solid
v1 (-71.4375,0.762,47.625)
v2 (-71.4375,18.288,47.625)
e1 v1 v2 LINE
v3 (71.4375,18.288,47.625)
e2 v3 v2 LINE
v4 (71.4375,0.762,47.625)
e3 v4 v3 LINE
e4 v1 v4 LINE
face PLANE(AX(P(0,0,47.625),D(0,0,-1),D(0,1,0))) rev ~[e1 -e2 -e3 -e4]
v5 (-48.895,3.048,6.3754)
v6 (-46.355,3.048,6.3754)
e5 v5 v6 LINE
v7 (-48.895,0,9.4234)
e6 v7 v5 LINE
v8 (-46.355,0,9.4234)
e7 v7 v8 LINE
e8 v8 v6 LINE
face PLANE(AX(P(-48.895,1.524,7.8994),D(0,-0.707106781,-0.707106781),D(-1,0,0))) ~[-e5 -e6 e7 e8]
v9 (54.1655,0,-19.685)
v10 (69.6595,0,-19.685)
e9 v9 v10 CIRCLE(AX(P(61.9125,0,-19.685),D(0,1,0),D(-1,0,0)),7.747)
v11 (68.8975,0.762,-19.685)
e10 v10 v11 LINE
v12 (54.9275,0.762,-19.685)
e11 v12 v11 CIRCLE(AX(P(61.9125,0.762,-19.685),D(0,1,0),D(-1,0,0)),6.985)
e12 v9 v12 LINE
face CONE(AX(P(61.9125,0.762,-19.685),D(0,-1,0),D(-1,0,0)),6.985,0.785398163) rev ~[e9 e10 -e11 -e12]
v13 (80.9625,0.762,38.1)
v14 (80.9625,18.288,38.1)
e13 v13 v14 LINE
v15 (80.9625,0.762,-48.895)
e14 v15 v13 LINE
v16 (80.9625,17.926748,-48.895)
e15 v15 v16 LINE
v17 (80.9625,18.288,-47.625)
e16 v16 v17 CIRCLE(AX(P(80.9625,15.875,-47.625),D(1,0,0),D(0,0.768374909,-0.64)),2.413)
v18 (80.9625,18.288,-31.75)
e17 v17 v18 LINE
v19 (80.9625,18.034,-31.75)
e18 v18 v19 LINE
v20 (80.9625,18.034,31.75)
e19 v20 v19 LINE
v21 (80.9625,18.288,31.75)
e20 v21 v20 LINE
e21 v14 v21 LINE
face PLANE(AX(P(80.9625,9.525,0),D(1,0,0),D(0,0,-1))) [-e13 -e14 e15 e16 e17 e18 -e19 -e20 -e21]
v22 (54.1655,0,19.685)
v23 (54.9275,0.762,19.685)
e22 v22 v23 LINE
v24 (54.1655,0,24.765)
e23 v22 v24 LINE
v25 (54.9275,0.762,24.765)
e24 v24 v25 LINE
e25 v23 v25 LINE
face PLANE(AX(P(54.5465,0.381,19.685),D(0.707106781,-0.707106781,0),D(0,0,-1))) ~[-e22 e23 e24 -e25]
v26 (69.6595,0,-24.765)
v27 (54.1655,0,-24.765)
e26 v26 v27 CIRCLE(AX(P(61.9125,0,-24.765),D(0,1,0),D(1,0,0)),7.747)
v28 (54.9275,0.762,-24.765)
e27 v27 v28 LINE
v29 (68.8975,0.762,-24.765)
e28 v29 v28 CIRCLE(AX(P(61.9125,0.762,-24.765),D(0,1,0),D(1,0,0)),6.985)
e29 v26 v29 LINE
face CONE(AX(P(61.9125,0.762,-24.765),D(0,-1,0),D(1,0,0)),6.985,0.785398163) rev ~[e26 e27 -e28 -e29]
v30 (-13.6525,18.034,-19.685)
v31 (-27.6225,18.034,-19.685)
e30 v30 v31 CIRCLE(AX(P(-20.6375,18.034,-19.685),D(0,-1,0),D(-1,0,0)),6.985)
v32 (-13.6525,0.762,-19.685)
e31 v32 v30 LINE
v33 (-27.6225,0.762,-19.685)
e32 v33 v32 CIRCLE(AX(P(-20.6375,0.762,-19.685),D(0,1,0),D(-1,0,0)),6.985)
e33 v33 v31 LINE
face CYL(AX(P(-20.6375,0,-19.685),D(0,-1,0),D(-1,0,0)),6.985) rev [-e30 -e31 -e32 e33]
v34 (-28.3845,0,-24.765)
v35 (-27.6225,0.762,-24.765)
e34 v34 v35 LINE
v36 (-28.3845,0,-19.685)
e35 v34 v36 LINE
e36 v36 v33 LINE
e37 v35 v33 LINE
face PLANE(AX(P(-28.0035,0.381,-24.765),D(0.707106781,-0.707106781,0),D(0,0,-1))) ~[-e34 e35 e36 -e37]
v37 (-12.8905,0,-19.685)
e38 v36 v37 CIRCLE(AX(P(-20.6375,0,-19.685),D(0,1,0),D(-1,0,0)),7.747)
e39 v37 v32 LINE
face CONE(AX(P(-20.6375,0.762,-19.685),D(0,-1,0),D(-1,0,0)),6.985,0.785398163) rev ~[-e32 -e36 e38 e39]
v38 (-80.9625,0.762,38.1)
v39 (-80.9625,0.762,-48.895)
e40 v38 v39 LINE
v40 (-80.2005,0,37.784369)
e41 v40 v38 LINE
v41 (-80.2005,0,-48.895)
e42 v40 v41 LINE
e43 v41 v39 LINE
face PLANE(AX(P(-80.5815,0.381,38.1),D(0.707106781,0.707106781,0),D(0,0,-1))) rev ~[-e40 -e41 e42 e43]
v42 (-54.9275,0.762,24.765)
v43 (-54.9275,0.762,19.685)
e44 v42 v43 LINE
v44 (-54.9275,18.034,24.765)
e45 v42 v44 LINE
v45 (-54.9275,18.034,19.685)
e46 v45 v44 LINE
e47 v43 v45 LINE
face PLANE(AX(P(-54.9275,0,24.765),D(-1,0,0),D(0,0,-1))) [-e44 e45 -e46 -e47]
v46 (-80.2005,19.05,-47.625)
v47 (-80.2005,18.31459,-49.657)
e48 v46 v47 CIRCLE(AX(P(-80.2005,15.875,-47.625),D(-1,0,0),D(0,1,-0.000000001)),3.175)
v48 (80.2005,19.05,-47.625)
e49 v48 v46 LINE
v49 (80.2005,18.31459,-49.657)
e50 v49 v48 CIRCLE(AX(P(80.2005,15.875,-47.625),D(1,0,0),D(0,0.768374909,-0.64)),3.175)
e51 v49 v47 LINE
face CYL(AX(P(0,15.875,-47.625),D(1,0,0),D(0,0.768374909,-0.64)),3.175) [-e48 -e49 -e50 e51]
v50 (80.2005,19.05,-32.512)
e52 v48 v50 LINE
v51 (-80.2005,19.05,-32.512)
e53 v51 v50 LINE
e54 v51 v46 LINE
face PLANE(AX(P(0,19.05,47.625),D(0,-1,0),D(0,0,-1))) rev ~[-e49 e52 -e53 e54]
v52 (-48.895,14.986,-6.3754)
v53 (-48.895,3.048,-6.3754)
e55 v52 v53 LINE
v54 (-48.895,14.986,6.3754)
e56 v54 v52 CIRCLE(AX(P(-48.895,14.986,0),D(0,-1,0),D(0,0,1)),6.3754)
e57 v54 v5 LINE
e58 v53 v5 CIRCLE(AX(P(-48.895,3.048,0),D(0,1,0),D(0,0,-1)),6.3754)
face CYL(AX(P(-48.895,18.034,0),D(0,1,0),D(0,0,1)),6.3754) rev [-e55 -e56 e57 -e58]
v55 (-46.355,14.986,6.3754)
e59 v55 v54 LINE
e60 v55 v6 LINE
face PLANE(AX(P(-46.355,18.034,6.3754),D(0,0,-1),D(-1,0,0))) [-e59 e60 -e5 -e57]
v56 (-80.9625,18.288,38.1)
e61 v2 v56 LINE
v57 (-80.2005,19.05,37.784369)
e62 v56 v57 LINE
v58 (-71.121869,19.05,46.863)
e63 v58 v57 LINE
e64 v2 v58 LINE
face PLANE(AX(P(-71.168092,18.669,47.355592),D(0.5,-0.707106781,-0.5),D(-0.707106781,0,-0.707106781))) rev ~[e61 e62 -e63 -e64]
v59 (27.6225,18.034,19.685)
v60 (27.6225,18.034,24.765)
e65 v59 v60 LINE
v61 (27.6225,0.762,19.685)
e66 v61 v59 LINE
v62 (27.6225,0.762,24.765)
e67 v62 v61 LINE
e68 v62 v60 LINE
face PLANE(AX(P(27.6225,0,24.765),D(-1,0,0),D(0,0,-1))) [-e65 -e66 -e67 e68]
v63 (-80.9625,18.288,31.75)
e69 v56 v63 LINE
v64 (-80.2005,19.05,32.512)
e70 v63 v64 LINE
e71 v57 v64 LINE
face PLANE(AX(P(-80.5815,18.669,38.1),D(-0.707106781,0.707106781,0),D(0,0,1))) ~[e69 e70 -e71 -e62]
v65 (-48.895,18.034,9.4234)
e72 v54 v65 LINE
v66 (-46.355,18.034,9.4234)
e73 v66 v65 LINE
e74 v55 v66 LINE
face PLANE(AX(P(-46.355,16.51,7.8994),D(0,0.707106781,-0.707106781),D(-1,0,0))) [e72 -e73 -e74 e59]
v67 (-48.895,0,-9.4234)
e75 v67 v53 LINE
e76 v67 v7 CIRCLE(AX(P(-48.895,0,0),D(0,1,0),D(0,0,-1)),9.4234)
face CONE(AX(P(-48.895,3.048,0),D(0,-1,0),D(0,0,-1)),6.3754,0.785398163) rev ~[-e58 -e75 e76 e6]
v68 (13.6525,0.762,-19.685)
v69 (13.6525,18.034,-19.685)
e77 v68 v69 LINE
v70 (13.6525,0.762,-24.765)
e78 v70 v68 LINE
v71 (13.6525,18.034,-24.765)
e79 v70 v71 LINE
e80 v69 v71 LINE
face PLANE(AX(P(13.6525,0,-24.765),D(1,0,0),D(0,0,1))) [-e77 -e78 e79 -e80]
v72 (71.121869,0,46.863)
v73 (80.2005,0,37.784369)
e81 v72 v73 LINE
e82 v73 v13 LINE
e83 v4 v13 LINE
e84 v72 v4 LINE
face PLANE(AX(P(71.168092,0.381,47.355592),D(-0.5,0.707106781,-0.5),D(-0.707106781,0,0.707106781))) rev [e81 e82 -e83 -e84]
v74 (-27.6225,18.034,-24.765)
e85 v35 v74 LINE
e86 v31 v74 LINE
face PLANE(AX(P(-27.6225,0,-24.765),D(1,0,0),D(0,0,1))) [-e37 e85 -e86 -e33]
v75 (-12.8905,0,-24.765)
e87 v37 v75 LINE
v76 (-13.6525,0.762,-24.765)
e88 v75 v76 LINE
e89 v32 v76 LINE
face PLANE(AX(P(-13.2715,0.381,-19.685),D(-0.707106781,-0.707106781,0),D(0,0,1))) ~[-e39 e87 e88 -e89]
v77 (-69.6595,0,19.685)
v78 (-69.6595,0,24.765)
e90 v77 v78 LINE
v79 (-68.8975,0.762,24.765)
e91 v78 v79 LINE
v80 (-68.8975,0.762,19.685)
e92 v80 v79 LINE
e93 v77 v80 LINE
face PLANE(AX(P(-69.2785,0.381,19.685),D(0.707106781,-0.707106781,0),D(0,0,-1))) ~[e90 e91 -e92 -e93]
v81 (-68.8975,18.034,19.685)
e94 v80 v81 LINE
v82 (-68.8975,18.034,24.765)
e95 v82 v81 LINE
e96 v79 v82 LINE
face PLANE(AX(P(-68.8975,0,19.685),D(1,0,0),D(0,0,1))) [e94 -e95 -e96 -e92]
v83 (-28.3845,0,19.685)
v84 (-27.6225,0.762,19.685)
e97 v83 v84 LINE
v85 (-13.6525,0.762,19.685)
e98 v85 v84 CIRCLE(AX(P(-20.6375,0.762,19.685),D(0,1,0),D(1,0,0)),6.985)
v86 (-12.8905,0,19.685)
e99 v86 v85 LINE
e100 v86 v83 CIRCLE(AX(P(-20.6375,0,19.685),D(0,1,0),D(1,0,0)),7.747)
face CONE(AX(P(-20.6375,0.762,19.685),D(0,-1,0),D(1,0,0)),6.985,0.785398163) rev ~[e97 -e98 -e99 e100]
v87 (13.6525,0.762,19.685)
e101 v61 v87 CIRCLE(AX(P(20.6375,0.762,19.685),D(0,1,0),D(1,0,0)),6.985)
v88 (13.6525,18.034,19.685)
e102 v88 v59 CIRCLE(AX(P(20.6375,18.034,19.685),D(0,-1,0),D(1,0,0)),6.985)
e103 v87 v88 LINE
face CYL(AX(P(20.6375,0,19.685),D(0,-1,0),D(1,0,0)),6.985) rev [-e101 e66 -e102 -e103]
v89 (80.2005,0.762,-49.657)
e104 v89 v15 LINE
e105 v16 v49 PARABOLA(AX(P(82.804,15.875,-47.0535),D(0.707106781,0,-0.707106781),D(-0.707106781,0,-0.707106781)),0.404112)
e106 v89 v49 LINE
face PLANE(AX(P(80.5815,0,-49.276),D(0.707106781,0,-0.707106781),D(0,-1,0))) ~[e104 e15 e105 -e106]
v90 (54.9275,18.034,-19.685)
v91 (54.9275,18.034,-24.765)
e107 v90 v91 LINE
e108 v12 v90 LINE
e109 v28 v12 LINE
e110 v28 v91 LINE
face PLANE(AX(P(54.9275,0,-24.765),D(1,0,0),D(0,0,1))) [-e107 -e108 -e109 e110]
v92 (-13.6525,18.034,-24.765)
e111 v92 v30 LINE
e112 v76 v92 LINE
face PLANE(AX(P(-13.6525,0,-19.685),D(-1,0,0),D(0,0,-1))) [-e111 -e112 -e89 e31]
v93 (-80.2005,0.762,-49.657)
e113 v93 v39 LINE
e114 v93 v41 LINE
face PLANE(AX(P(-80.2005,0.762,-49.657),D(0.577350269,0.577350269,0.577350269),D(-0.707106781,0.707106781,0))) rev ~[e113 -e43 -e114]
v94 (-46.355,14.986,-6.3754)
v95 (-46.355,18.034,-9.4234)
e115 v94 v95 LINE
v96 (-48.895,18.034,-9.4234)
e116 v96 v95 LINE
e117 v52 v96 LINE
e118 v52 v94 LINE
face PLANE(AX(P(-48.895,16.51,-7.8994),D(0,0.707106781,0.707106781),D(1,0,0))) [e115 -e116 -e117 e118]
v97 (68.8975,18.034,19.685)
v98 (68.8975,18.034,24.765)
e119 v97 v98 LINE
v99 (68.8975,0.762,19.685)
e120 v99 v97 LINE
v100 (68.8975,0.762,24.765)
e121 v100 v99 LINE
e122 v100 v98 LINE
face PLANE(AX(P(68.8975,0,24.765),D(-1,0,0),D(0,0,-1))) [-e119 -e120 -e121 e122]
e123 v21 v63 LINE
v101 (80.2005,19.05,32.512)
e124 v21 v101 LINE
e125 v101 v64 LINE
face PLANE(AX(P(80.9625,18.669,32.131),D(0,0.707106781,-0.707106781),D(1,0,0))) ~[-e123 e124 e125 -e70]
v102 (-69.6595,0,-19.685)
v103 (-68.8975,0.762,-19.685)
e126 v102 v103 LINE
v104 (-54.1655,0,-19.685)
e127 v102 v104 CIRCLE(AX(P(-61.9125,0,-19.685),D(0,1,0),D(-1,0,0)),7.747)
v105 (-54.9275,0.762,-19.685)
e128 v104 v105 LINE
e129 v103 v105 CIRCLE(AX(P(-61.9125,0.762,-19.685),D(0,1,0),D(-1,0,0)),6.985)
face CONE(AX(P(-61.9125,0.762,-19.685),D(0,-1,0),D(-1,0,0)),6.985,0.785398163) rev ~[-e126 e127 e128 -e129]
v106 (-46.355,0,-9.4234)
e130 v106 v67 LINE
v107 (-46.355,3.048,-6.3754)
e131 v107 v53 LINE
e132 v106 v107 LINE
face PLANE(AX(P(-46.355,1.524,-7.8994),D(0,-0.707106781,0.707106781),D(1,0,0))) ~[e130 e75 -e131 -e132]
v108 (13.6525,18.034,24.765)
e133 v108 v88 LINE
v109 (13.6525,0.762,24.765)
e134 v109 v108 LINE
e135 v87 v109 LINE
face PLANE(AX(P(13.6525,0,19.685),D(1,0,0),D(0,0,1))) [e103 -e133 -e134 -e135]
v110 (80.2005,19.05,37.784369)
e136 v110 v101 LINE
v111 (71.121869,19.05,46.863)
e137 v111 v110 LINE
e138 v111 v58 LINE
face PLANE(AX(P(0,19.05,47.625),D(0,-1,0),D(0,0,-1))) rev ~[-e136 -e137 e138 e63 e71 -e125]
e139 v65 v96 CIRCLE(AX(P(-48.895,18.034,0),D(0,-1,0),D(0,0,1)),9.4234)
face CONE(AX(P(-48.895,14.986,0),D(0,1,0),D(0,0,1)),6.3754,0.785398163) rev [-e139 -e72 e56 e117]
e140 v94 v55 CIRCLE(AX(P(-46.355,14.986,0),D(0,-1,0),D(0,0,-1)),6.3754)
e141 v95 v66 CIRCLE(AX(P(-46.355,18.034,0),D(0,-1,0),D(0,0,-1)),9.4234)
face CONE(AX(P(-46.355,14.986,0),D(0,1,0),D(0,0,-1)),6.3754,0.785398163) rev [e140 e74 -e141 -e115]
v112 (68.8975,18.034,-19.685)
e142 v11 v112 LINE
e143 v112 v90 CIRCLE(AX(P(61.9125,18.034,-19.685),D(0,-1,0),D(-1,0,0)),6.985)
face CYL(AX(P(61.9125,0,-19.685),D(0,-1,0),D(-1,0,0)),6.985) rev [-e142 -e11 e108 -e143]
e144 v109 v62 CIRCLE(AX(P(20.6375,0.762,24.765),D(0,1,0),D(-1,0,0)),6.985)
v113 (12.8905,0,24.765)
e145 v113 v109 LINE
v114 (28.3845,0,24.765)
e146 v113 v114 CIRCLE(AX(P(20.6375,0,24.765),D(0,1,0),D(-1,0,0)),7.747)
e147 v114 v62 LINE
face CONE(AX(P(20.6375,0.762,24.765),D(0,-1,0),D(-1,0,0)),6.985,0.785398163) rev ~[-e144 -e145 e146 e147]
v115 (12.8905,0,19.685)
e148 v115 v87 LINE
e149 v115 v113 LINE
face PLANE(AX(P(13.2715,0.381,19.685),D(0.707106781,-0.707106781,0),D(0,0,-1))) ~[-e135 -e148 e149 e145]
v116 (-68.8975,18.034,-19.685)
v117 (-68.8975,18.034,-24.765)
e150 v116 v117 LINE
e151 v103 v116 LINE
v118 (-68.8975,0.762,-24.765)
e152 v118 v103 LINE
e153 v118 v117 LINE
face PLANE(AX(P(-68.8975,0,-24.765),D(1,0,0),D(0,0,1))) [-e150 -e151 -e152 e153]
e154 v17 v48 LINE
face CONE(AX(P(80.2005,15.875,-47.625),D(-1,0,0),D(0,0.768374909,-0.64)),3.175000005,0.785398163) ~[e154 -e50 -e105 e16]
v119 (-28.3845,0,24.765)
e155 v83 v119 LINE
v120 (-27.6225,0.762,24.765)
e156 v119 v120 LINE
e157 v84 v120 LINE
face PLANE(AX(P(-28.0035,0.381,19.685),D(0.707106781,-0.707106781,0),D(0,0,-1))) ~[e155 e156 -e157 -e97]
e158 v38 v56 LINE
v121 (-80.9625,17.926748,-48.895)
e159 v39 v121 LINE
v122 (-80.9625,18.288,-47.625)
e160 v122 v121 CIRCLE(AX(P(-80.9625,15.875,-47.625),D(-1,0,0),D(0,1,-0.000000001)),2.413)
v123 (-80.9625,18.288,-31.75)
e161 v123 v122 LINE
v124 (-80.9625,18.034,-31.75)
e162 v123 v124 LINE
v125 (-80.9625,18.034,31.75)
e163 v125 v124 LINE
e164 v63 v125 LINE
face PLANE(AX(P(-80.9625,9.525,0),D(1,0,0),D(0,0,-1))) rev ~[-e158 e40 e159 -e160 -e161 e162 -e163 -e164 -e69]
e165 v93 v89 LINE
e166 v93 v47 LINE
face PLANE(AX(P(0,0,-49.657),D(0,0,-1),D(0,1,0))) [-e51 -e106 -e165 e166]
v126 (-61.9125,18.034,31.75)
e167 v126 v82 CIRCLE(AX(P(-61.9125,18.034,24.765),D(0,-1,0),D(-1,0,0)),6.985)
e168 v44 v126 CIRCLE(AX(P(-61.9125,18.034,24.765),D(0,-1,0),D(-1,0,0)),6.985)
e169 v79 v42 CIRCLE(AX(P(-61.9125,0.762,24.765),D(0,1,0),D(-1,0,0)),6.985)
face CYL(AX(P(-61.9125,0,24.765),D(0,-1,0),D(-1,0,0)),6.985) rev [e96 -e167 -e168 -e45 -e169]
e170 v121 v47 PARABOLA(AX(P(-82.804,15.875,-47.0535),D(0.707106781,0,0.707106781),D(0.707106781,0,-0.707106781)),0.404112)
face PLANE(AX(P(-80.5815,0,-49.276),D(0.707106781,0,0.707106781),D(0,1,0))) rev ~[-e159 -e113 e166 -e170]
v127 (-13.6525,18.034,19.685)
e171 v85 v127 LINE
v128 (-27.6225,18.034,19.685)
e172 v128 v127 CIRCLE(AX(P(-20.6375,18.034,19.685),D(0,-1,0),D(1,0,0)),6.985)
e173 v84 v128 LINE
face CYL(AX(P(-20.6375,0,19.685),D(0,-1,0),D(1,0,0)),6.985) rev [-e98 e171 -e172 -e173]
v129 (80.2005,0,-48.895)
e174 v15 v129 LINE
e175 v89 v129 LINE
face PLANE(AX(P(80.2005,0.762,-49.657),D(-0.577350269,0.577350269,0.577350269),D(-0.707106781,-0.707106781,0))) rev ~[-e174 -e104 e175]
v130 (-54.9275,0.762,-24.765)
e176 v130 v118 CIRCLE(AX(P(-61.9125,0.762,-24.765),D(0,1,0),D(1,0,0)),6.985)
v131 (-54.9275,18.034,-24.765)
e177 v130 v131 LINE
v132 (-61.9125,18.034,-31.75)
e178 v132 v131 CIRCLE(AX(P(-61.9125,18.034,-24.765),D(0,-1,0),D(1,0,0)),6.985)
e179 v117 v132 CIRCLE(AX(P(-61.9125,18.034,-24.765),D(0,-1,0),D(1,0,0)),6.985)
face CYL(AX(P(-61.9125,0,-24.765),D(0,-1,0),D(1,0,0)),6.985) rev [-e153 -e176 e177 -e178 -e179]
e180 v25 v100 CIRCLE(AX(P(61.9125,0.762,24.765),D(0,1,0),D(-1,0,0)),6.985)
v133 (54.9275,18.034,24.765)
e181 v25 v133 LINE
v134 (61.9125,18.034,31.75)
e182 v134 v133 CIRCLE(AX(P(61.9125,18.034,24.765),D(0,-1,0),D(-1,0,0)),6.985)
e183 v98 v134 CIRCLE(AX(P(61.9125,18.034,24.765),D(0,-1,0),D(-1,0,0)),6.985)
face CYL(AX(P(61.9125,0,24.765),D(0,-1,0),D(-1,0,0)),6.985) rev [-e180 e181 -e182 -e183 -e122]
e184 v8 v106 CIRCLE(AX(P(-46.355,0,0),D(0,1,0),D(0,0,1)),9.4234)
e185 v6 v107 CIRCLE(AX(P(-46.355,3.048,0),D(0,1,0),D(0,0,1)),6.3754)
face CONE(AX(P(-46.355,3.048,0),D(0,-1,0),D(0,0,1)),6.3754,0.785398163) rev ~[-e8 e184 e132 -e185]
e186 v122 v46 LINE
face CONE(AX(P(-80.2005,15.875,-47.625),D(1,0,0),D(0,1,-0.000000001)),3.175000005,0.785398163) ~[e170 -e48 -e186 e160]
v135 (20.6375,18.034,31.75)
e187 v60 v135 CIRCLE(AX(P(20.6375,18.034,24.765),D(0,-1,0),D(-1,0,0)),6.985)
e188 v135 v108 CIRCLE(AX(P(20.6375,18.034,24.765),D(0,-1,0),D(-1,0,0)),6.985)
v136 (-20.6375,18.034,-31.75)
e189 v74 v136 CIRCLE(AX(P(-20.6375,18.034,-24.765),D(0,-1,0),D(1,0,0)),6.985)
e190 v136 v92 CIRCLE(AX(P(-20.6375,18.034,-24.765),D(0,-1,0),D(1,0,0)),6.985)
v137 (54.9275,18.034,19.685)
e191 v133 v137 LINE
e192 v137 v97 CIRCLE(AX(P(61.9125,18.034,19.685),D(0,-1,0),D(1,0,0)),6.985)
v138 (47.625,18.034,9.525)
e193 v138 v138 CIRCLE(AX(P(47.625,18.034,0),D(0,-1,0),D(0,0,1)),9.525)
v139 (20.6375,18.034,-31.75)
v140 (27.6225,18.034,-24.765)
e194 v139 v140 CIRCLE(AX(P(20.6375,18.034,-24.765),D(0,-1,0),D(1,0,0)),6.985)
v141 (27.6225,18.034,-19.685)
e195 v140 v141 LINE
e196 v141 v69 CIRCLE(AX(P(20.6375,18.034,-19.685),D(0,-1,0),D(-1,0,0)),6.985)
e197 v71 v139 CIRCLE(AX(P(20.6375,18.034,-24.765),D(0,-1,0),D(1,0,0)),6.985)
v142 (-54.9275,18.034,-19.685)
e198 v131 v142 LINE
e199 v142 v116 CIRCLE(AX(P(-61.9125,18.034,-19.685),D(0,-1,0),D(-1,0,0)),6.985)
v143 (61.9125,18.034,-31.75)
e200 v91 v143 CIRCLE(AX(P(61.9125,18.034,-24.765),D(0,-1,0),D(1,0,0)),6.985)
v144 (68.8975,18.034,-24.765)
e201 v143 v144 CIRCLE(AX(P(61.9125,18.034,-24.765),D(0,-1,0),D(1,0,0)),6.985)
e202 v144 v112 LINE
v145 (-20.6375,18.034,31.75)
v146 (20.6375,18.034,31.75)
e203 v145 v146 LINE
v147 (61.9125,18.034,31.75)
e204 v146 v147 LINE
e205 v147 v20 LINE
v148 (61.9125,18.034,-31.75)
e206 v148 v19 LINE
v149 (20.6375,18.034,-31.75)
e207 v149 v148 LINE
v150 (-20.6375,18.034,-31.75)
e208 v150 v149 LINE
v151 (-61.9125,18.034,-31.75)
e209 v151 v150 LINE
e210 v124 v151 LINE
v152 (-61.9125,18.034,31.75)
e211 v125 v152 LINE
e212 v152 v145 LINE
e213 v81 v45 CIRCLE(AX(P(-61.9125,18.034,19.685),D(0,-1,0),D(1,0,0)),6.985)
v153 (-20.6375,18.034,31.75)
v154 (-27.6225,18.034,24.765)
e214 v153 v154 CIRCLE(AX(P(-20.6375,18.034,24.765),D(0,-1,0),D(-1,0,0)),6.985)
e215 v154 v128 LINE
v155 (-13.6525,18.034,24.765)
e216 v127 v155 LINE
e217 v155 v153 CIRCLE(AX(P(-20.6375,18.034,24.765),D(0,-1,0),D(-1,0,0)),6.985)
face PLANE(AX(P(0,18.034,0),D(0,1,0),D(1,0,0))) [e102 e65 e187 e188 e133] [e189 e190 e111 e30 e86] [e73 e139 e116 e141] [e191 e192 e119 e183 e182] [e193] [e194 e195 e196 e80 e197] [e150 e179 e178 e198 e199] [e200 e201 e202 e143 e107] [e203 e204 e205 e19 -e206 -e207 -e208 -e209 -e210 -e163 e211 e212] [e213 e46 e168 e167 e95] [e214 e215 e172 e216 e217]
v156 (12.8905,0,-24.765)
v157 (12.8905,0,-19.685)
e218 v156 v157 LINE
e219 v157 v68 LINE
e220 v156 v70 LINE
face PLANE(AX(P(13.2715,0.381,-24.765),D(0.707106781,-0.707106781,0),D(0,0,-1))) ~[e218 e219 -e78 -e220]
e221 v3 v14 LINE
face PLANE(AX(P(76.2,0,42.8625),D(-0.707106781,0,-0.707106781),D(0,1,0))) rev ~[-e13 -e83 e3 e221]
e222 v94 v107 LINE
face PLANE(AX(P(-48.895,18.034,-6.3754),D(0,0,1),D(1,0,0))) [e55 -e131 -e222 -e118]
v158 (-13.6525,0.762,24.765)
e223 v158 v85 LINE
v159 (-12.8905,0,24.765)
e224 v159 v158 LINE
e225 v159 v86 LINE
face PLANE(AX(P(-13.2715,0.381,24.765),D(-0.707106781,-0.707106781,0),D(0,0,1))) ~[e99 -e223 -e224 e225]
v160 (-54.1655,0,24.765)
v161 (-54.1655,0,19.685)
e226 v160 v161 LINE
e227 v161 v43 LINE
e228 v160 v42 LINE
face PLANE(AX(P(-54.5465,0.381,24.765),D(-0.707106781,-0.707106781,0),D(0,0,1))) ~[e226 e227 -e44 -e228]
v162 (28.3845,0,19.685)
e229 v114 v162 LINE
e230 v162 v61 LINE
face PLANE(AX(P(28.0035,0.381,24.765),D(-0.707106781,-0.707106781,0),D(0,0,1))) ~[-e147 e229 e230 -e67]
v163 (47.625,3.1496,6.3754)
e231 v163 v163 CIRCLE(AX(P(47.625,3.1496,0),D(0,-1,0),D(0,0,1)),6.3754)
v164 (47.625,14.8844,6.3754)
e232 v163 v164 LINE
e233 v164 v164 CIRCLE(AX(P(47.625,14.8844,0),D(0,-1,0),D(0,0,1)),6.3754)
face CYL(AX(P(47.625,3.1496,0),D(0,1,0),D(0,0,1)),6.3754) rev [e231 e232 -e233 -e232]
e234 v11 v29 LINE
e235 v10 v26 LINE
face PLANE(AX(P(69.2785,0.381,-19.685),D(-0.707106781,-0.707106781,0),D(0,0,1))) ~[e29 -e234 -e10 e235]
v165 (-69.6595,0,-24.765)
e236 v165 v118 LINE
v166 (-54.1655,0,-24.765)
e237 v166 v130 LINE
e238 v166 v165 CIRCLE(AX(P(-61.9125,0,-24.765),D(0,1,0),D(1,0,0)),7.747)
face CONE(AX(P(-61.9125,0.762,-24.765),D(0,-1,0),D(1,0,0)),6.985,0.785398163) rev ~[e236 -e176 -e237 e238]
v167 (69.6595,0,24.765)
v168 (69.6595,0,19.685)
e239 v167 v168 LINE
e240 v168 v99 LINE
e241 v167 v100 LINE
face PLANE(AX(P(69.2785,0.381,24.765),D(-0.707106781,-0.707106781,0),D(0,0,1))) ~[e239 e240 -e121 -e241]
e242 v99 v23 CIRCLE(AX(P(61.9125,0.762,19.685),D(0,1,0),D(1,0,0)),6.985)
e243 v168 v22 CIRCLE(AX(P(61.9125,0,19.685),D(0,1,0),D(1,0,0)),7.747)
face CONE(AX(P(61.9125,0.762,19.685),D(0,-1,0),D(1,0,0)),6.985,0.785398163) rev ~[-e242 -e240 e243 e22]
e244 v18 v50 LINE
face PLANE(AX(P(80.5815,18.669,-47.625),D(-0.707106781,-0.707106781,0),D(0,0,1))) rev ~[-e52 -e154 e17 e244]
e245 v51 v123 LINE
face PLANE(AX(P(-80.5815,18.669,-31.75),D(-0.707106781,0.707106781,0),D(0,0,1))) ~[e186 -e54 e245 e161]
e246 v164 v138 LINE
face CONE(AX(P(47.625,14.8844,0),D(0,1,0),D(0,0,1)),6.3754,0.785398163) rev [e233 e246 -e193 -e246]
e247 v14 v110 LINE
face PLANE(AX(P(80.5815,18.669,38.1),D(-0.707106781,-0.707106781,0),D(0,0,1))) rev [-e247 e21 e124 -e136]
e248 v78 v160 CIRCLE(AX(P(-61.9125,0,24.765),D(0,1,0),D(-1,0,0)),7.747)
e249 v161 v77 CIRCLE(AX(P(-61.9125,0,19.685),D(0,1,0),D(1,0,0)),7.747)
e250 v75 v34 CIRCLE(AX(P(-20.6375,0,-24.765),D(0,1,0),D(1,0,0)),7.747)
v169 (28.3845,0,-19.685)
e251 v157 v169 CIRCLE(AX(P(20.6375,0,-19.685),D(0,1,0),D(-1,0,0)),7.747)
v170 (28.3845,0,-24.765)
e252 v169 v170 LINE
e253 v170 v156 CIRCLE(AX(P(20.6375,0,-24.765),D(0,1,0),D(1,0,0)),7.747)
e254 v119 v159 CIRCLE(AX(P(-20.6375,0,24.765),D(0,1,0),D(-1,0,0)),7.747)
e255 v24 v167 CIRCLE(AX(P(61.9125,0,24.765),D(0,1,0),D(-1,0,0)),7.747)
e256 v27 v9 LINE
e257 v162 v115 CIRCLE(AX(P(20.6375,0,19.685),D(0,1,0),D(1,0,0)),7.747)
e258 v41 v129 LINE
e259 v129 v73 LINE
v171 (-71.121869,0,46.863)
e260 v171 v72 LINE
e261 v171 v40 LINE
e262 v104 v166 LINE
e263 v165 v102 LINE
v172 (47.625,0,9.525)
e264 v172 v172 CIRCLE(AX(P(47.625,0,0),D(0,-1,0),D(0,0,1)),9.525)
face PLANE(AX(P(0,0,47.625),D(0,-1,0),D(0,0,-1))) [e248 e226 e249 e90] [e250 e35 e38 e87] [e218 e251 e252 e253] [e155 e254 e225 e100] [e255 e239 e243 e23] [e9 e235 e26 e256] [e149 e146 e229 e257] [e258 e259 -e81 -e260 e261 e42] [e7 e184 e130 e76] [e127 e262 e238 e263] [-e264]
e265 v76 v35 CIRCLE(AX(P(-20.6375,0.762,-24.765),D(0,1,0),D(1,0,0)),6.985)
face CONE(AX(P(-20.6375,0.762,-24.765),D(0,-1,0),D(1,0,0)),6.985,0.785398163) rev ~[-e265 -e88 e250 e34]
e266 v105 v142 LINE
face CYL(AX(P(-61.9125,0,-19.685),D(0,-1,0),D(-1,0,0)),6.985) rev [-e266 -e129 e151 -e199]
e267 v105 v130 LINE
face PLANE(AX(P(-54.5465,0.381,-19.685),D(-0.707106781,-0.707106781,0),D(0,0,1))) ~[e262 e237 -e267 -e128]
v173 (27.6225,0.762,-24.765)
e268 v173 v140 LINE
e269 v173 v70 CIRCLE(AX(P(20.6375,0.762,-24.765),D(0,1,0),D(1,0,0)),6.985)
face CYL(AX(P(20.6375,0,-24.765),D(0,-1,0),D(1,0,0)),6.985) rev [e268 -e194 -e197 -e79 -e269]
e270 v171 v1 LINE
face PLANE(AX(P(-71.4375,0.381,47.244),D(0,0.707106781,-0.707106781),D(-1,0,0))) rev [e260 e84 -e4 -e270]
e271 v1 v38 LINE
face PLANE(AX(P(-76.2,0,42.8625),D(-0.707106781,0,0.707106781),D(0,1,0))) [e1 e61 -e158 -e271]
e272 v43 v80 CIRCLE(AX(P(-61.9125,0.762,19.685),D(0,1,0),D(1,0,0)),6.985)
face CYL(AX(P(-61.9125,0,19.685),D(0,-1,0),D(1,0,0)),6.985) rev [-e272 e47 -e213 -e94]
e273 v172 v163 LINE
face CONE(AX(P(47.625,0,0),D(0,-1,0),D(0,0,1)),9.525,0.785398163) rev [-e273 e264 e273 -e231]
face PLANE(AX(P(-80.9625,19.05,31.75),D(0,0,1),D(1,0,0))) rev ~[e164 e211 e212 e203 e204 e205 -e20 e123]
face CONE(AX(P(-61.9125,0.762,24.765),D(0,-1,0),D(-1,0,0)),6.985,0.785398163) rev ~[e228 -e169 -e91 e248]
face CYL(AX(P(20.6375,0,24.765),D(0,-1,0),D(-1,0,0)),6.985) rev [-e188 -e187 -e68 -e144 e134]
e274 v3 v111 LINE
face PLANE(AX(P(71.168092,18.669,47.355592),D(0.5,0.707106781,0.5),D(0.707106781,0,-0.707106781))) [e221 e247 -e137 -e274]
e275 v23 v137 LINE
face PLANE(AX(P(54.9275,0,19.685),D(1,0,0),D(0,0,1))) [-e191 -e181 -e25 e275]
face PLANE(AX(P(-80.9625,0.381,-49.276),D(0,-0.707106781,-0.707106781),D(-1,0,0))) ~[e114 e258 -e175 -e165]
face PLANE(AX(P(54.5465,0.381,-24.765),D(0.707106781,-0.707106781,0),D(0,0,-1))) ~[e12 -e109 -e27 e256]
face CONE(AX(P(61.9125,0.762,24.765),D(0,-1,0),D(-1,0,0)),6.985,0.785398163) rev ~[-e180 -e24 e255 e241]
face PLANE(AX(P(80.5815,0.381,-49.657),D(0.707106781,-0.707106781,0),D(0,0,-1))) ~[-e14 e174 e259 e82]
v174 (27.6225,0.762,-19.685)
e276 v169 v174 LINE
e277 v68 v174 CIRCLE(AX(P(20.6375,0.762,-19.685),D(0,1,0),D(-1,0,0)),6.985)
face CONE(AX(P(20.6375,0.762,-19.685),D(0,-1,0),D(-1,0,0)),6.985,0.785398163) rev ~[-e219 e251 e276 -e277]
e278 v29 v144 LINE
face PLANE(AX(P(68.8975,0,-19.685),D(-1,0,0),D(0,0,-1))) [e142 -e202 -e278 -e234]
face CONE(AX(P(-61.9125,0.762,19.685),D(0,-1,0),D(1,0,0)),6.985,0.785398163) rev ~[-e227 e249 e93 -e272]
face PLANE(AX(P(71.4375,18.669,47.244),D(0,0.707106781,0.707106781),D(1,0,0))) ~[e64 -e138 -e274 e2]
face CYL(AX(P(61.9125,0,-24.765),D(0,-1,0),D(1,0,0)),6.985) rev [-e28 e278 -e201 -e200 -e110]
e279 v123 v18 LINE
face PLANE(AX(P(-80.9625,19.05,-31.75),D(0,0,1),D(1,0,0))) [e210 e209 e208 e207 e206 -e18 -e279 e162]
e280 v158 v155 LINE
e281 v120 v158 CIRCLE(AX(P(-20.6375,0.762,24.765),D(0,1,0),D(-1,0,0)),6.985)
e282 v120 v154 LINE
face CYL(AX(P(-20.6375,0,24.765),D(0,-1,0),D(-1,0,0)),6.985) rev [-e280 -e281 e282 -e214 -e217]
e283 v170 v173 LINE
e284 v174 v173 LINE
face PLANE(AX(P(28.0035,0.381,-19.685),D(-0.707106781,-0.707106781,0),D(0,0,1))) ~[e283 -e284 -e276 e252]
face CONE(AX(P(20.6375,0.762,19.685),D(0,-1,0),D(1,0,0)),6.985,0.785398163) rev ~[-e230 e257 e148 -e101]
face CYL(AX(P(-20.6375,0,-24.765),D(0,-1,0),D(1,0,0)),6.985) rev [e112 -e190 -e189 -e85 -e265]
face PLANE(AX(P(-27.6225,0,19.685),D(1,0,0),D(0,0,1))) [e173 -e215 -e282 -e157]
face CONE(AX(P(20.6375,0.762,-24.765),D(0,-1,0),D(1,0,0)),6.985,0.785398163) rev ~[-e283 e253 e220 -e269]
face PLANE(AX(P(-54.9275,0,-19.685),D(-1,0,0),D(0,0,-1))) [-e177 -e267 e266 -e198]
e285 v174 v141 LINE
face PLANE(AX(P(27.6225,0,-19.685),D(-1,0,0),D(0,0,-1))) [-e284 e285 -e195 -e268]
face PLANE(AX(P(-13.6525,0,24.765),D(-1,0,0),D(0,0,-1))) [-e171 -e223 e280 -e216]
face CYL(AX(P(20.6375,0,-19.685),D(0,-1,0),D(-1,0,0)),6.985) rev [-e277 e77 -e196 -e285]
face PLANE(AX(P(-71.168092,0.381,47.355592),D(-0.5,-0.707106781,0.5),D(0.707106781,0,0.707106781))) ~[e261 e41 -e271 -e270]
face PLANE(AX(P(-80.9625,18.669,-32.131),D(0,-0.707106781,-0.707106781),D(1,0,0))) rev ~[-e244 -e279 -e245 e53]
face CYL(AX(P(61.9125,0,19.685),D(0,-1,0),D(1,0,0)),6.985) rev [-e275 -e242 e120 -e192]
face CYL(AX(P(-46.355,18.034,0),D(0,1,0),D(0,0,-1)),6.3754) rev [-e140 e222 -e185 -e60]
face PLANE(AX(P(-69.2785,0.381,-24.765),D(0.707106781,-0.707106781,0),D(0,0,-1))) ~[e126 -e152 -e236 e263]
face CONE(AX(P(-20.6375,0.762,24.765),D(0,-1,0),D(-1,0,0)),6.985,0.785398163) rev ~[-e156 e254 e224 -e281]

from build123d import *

# Parameters (mm, degrees)
SKETCH1_W      = 95.25
SKETCH1_H      = 19.05
EXTRUDE1_DEPTH = 80.9625
CHAMFER1_SIZE  = 9.525
SKETCH6_W      = 161.925
SKETCH6_H      = 63.5
EXTRUDE2_DEPTH = 1.016
EXTRUDE5_DEPTH = 80.9625
EXTRUDE8_DEPTH = 20.05
CHAMFER8_SIZE  = 0.762
EXTRUDE9_DEPTH = 19.034
CHAMFER9_SIZE  = 3.048
CHAMFER6_SIZE  = 0.762


with BuildPart() as part:
    # Sketch1 → Extrude1 (new body, symmetric)
    with BuildSketch(Plane(origin=(0, 0, 0), x_dir=(0, 0, -1), z_dir=(1, 0, 0))):
        with Locations((0, 9.525)):
            Rectangle(SKETCH1_W, SKETCH1_H)
    extrude(amount=EXTRUDE1_DEPTH, both=True)

    # Chamfer1
    chamfer1_edges = [part.edges().sort_by_distance(p)[0] for p in [
        (80.9625, 9.525, 47.625),
        (-80.9625, 9.525, 47.625),
    ]]
    chamfer(chamfer1_edges, length=CHAMFER1_SIZE)

    # Sketch6 → Extrude2 (cut)
    with BuildSketch(Plane(origin=(0, 19.05, 0), x_dir=(1, 0, 0), z_dir=(0, 1, 0))):
        Rectangle(SKETCH6_W, SKETCH6_H)
    extrude(amount=-EXTRUDE2_DEPTH, mode=Mode.SUBTRACT)

    # Sketch10 → Extrude5 (add, symmetric)
    with BuildSketch(Plane(origin=(0, 0, 0), x_dir=(0, 0, -1), z_dir=(1, 0, 0))):
        with BuildLine():
            Line((47.117, 19.05), (47.117, 0))
            Line((47.117, 0), (49.657, 0))
            Line((49.657, 0), (49.657, 18.314590334))
            ThreePointArc((49.657, 18.314590334), (48.705491945, 18.860491945), (47.625, 19.05))
            Line((47.625, 19.05), (47.117, 19.05))
        make_face()
    extrude(amount=EXTRUDE5_DEPTH, both=True)

    # Sketch16 → Extrude8 (cut, through all)
    with BuildSketch(Plane.XZ):
        with BuildLine():
            Line((-54.9275, 24.765), (-54.9275, 19.685))
            ThreePointArc((-54.9275, 19.685), (-61.9125, 12.7), (-68.8975, 19.685))
            Line((-68.8975, 19.685), (-68.8975, 24.765))
            ThreePointArc((-68.8975, 24.765), (-61.9125, 31.75), (-54.9275, 24.765))
        make_face()
        with BuildLine():
            Line((-54.9275, -19.685), (-54.9275, -24.765))
            ThreePointArc((-54.9275, -24.765), (-61.9125, -31.75), (-68.8975, -24.765))
            Line((-68.8975, -24.765), (-68.8975, -19.685))
            ThreePointArc((-68.8975, -19.685), (-61.9125, -12.7), (-54.9275, -19.685))
        make_face()
        with BuildLine():
            Line((-13.6525, -19.685), (-13.6525, -24.765))
            ThreePointArc((-13.6525, -24.765), (-20.6375, -31.75), (-27.6225, -24.765))
            Line((-27.6225, -24.765), (-27.6225, -19.685))
            ThreePointArc((-27.6225, -19.685), (-20.6375, -12.7), (-13.6525, -19.685))
        make_face()
        with BuildLine():
            Line((27.6225, -19.685), (27.6225, -24.765))
            ThreePointArc((27.6225, -24.765), (20.6375, -31.75), (13.6525, -24.765))
            Line((13.6525, -24.765), (13.6525, -19.685))
            ThreePointArc((13.6525, -19.685), (20.6375, -12.7), (27.6225, -19.685))
        make_face()
        with BuildLine():
            Line((68.8975, -19.685), (68.8975, -24.765))
            ThreePointArc((68.8975, -24.765), (61.9125, -31.75), (54.9275, -24.765))
            Line((54.9275, -24.765), (54.9275, -19.685))
            ThreePointArc((54.9275, -19.685), (61.9125, -12.7), (68.8975, -19.685))
        make_face()
        with BuildLine():
            Line((68.8975, 24.765), (68.8975, 19.685))
            ThreePointArc((68.8975, 19.685), (61.9125, 12.7), (54.9275, 19.685))
            Line((54.9275, 19.685), (54.9275, 24.765))
            ThreePointArc((54.9275, 24.765), (61.9125, 31.75), (68.8975, 24.765))
        make_face()
        with BuildLine():
            Line((27.6225, 24.765), (27.6225, 19.685))
            ThreePointArc((27.6225, 19.685), (20.6375, 12.7), (13.6525, 19.685))
            Line((13.6525, 19.685), (13.6525, 24.765))
            ThreePointArc((13.6525, 24.765), (20.6375, 31.75), (27.6225, 24.765))
        make_face()
        with BuildLine():
            Line((-13.6525, 24.765), (-13.6525, 19.685))
            ThreePointArc((-13.6525, 19.685), (-20.6375, 12.7), (-27.6225, 19.685))
            Line((-27.6225, 19.685), (-27.6225, 24.765))
            ThreePointArc((-27.6225, 24.765), (-20.6375, 31.75), (-13.6525, 24.765))
        make_face()
    extrude(amount=-EXTRUDE8_DEPTH, mode=Mode.SUBTRACT)

    # Chamfer8
    chamfer8_edges = [part.edges().sort_by_distance(p)[0] for p in [
        (-20.6375, 0, -12.7),
        (-27.6225, 0, -22.225),
        (-20.6375, 0, -31.75),
        (-13.6525, 0, -22.225),
        (20.6375, 0, -12.7),
        (13.6525, 0, -22.225),
        (20.6375, 0, -31.75),
        (27.6225, 0, -22.225),
        (61.9125, 0, -12.7),
        (54.9275, 0, -22.225),
        (61.9125, 0, -31.75),
        (68.8975, 0, -22.225),
        (61.9125, 0, 31.75),
        (54.9275, 0, 22.225),
        (61.9125, 0, 12.7),
        (68.8975, 0, 22.225),
        (20.6375, 0, 31.75),
        (13.6525, 0, 22.225),
        (20.6375, 0, 12.7),
        (27.6225, 0, 22.225),
        (-20.6375, 0, 31.75),
        (-27.6225, 0, 22.225),
        (-20.6375, 0, 12.7),
        (-13.6525, 0, 22.225),
        (-61.9125, 0, 31.75),
        (-68.8975, 0, 22.225),
        (-61.9125, 0, 12.7),
        (-54.9275, 0, 22.225),
        (-61.9125, 0, -12.7),
        (-68.8975, 0, -22.225),
        (-61.9125, 0, -31.75),
        (-54.9275, 0, -22.225),
    ]]
    chamfer(chamfer8_edges, length=CHAMFER8_SIZE)

    # Sketch17 → 1/2 (0.5) Diameter Hole2 (revolve, cut)
    with BuildSketch(Plane(origin=(47.625, 18.034, 0), x_dir=(0, 0, 1), z_dir=(1, 0, 0))):
        Polygon((0, 0), (0, 18.034), (9.525, 18.034), (6.3754, 14.8844), (6.3754, 3.1496), (9.525, 0), align=None)
    revolve(axis=Axis((47.625, 24.384, 0), (0, -1, 0)), mode=Mode.SUBTRACT)

    # Sketch20 → Extrude9 (cut, through all)
    with BuildSketch(Plane(origin=(0, 18.034, 0), x_dir=(1, 0, 0), z_dir=(0, 1, 0))):
        with BuildLine():
            Line((-48.895, 6.3754), (-46.355, 6.3754))
            ThreePointArc((-46.355, 6.3754), (-39.9796, 0), (-46.355, -6.3754))
            Line((-46.355, -6.3754), (-48.895, -6.3754))
            ThreePointArc((-48.895, -6.3754), (-55.2704, 0), (-48.895, 6.3754))
        make_face()
    extrude(amount=-EXTRUDE9_DEPTH, mode=Mode.SUBTRACT)

    # Chamfer9
    chamfer9_edges = [part.edges().sort_by_distance(p)[0] for p in [
        (-55.2704, 0, 0),
        (-47.625, 0, -6.3754),
        (-39.9796, 0, 0),
        (-47.625, 0, 6.3754),
        (-55.2704, 18.034, 0),
        (-47.625, 18.034, 6.3754),
        (-39.9796, 18.034, 0),
        (-47.625, 18.034, -6.3754),
    ]]
    chamfer(chamfer9_edges, length=CHAMFER9_SIZE)

    # Chamfer6
    chamfer6_edges = [part.edges().sort_by_distance(p)[0] for p in [
        (80.9625, 19.05, -39.6875),
        (0, 0, 47.625),
        (0, 19.05, 47.625),
        (-80.9625, 0, -5.7785),
        (80.9625, 0, -5.7785),
        (76.2, 0, 42.8625),
        (-76.2, 0, 42.8625),
        (76.2, 19.05, 42.8625),
        (-76.2, 19.05, 42.8625),
        (-80.9625, 19.05, 34.925),
        (80.9625, 19.05, 34.925),
        (0, 19.05, 31.75),
        (0, 19.05, -31.75),
        (-80.9625, 19.05, -39.6875),
        (80.9625, 9.157295167, -49.657),
        (80.9625, 18.860491945, -48.705491945),
        (0, 0, -49.657),
        (-80.9625, 18.860491945, -48.705491945),
        (-80.9625, 9.157295167, -49.657),
    ]]
    chamfer(chamfer6_edges, length=CHAMFER6_SIZE)


solid = part.part
